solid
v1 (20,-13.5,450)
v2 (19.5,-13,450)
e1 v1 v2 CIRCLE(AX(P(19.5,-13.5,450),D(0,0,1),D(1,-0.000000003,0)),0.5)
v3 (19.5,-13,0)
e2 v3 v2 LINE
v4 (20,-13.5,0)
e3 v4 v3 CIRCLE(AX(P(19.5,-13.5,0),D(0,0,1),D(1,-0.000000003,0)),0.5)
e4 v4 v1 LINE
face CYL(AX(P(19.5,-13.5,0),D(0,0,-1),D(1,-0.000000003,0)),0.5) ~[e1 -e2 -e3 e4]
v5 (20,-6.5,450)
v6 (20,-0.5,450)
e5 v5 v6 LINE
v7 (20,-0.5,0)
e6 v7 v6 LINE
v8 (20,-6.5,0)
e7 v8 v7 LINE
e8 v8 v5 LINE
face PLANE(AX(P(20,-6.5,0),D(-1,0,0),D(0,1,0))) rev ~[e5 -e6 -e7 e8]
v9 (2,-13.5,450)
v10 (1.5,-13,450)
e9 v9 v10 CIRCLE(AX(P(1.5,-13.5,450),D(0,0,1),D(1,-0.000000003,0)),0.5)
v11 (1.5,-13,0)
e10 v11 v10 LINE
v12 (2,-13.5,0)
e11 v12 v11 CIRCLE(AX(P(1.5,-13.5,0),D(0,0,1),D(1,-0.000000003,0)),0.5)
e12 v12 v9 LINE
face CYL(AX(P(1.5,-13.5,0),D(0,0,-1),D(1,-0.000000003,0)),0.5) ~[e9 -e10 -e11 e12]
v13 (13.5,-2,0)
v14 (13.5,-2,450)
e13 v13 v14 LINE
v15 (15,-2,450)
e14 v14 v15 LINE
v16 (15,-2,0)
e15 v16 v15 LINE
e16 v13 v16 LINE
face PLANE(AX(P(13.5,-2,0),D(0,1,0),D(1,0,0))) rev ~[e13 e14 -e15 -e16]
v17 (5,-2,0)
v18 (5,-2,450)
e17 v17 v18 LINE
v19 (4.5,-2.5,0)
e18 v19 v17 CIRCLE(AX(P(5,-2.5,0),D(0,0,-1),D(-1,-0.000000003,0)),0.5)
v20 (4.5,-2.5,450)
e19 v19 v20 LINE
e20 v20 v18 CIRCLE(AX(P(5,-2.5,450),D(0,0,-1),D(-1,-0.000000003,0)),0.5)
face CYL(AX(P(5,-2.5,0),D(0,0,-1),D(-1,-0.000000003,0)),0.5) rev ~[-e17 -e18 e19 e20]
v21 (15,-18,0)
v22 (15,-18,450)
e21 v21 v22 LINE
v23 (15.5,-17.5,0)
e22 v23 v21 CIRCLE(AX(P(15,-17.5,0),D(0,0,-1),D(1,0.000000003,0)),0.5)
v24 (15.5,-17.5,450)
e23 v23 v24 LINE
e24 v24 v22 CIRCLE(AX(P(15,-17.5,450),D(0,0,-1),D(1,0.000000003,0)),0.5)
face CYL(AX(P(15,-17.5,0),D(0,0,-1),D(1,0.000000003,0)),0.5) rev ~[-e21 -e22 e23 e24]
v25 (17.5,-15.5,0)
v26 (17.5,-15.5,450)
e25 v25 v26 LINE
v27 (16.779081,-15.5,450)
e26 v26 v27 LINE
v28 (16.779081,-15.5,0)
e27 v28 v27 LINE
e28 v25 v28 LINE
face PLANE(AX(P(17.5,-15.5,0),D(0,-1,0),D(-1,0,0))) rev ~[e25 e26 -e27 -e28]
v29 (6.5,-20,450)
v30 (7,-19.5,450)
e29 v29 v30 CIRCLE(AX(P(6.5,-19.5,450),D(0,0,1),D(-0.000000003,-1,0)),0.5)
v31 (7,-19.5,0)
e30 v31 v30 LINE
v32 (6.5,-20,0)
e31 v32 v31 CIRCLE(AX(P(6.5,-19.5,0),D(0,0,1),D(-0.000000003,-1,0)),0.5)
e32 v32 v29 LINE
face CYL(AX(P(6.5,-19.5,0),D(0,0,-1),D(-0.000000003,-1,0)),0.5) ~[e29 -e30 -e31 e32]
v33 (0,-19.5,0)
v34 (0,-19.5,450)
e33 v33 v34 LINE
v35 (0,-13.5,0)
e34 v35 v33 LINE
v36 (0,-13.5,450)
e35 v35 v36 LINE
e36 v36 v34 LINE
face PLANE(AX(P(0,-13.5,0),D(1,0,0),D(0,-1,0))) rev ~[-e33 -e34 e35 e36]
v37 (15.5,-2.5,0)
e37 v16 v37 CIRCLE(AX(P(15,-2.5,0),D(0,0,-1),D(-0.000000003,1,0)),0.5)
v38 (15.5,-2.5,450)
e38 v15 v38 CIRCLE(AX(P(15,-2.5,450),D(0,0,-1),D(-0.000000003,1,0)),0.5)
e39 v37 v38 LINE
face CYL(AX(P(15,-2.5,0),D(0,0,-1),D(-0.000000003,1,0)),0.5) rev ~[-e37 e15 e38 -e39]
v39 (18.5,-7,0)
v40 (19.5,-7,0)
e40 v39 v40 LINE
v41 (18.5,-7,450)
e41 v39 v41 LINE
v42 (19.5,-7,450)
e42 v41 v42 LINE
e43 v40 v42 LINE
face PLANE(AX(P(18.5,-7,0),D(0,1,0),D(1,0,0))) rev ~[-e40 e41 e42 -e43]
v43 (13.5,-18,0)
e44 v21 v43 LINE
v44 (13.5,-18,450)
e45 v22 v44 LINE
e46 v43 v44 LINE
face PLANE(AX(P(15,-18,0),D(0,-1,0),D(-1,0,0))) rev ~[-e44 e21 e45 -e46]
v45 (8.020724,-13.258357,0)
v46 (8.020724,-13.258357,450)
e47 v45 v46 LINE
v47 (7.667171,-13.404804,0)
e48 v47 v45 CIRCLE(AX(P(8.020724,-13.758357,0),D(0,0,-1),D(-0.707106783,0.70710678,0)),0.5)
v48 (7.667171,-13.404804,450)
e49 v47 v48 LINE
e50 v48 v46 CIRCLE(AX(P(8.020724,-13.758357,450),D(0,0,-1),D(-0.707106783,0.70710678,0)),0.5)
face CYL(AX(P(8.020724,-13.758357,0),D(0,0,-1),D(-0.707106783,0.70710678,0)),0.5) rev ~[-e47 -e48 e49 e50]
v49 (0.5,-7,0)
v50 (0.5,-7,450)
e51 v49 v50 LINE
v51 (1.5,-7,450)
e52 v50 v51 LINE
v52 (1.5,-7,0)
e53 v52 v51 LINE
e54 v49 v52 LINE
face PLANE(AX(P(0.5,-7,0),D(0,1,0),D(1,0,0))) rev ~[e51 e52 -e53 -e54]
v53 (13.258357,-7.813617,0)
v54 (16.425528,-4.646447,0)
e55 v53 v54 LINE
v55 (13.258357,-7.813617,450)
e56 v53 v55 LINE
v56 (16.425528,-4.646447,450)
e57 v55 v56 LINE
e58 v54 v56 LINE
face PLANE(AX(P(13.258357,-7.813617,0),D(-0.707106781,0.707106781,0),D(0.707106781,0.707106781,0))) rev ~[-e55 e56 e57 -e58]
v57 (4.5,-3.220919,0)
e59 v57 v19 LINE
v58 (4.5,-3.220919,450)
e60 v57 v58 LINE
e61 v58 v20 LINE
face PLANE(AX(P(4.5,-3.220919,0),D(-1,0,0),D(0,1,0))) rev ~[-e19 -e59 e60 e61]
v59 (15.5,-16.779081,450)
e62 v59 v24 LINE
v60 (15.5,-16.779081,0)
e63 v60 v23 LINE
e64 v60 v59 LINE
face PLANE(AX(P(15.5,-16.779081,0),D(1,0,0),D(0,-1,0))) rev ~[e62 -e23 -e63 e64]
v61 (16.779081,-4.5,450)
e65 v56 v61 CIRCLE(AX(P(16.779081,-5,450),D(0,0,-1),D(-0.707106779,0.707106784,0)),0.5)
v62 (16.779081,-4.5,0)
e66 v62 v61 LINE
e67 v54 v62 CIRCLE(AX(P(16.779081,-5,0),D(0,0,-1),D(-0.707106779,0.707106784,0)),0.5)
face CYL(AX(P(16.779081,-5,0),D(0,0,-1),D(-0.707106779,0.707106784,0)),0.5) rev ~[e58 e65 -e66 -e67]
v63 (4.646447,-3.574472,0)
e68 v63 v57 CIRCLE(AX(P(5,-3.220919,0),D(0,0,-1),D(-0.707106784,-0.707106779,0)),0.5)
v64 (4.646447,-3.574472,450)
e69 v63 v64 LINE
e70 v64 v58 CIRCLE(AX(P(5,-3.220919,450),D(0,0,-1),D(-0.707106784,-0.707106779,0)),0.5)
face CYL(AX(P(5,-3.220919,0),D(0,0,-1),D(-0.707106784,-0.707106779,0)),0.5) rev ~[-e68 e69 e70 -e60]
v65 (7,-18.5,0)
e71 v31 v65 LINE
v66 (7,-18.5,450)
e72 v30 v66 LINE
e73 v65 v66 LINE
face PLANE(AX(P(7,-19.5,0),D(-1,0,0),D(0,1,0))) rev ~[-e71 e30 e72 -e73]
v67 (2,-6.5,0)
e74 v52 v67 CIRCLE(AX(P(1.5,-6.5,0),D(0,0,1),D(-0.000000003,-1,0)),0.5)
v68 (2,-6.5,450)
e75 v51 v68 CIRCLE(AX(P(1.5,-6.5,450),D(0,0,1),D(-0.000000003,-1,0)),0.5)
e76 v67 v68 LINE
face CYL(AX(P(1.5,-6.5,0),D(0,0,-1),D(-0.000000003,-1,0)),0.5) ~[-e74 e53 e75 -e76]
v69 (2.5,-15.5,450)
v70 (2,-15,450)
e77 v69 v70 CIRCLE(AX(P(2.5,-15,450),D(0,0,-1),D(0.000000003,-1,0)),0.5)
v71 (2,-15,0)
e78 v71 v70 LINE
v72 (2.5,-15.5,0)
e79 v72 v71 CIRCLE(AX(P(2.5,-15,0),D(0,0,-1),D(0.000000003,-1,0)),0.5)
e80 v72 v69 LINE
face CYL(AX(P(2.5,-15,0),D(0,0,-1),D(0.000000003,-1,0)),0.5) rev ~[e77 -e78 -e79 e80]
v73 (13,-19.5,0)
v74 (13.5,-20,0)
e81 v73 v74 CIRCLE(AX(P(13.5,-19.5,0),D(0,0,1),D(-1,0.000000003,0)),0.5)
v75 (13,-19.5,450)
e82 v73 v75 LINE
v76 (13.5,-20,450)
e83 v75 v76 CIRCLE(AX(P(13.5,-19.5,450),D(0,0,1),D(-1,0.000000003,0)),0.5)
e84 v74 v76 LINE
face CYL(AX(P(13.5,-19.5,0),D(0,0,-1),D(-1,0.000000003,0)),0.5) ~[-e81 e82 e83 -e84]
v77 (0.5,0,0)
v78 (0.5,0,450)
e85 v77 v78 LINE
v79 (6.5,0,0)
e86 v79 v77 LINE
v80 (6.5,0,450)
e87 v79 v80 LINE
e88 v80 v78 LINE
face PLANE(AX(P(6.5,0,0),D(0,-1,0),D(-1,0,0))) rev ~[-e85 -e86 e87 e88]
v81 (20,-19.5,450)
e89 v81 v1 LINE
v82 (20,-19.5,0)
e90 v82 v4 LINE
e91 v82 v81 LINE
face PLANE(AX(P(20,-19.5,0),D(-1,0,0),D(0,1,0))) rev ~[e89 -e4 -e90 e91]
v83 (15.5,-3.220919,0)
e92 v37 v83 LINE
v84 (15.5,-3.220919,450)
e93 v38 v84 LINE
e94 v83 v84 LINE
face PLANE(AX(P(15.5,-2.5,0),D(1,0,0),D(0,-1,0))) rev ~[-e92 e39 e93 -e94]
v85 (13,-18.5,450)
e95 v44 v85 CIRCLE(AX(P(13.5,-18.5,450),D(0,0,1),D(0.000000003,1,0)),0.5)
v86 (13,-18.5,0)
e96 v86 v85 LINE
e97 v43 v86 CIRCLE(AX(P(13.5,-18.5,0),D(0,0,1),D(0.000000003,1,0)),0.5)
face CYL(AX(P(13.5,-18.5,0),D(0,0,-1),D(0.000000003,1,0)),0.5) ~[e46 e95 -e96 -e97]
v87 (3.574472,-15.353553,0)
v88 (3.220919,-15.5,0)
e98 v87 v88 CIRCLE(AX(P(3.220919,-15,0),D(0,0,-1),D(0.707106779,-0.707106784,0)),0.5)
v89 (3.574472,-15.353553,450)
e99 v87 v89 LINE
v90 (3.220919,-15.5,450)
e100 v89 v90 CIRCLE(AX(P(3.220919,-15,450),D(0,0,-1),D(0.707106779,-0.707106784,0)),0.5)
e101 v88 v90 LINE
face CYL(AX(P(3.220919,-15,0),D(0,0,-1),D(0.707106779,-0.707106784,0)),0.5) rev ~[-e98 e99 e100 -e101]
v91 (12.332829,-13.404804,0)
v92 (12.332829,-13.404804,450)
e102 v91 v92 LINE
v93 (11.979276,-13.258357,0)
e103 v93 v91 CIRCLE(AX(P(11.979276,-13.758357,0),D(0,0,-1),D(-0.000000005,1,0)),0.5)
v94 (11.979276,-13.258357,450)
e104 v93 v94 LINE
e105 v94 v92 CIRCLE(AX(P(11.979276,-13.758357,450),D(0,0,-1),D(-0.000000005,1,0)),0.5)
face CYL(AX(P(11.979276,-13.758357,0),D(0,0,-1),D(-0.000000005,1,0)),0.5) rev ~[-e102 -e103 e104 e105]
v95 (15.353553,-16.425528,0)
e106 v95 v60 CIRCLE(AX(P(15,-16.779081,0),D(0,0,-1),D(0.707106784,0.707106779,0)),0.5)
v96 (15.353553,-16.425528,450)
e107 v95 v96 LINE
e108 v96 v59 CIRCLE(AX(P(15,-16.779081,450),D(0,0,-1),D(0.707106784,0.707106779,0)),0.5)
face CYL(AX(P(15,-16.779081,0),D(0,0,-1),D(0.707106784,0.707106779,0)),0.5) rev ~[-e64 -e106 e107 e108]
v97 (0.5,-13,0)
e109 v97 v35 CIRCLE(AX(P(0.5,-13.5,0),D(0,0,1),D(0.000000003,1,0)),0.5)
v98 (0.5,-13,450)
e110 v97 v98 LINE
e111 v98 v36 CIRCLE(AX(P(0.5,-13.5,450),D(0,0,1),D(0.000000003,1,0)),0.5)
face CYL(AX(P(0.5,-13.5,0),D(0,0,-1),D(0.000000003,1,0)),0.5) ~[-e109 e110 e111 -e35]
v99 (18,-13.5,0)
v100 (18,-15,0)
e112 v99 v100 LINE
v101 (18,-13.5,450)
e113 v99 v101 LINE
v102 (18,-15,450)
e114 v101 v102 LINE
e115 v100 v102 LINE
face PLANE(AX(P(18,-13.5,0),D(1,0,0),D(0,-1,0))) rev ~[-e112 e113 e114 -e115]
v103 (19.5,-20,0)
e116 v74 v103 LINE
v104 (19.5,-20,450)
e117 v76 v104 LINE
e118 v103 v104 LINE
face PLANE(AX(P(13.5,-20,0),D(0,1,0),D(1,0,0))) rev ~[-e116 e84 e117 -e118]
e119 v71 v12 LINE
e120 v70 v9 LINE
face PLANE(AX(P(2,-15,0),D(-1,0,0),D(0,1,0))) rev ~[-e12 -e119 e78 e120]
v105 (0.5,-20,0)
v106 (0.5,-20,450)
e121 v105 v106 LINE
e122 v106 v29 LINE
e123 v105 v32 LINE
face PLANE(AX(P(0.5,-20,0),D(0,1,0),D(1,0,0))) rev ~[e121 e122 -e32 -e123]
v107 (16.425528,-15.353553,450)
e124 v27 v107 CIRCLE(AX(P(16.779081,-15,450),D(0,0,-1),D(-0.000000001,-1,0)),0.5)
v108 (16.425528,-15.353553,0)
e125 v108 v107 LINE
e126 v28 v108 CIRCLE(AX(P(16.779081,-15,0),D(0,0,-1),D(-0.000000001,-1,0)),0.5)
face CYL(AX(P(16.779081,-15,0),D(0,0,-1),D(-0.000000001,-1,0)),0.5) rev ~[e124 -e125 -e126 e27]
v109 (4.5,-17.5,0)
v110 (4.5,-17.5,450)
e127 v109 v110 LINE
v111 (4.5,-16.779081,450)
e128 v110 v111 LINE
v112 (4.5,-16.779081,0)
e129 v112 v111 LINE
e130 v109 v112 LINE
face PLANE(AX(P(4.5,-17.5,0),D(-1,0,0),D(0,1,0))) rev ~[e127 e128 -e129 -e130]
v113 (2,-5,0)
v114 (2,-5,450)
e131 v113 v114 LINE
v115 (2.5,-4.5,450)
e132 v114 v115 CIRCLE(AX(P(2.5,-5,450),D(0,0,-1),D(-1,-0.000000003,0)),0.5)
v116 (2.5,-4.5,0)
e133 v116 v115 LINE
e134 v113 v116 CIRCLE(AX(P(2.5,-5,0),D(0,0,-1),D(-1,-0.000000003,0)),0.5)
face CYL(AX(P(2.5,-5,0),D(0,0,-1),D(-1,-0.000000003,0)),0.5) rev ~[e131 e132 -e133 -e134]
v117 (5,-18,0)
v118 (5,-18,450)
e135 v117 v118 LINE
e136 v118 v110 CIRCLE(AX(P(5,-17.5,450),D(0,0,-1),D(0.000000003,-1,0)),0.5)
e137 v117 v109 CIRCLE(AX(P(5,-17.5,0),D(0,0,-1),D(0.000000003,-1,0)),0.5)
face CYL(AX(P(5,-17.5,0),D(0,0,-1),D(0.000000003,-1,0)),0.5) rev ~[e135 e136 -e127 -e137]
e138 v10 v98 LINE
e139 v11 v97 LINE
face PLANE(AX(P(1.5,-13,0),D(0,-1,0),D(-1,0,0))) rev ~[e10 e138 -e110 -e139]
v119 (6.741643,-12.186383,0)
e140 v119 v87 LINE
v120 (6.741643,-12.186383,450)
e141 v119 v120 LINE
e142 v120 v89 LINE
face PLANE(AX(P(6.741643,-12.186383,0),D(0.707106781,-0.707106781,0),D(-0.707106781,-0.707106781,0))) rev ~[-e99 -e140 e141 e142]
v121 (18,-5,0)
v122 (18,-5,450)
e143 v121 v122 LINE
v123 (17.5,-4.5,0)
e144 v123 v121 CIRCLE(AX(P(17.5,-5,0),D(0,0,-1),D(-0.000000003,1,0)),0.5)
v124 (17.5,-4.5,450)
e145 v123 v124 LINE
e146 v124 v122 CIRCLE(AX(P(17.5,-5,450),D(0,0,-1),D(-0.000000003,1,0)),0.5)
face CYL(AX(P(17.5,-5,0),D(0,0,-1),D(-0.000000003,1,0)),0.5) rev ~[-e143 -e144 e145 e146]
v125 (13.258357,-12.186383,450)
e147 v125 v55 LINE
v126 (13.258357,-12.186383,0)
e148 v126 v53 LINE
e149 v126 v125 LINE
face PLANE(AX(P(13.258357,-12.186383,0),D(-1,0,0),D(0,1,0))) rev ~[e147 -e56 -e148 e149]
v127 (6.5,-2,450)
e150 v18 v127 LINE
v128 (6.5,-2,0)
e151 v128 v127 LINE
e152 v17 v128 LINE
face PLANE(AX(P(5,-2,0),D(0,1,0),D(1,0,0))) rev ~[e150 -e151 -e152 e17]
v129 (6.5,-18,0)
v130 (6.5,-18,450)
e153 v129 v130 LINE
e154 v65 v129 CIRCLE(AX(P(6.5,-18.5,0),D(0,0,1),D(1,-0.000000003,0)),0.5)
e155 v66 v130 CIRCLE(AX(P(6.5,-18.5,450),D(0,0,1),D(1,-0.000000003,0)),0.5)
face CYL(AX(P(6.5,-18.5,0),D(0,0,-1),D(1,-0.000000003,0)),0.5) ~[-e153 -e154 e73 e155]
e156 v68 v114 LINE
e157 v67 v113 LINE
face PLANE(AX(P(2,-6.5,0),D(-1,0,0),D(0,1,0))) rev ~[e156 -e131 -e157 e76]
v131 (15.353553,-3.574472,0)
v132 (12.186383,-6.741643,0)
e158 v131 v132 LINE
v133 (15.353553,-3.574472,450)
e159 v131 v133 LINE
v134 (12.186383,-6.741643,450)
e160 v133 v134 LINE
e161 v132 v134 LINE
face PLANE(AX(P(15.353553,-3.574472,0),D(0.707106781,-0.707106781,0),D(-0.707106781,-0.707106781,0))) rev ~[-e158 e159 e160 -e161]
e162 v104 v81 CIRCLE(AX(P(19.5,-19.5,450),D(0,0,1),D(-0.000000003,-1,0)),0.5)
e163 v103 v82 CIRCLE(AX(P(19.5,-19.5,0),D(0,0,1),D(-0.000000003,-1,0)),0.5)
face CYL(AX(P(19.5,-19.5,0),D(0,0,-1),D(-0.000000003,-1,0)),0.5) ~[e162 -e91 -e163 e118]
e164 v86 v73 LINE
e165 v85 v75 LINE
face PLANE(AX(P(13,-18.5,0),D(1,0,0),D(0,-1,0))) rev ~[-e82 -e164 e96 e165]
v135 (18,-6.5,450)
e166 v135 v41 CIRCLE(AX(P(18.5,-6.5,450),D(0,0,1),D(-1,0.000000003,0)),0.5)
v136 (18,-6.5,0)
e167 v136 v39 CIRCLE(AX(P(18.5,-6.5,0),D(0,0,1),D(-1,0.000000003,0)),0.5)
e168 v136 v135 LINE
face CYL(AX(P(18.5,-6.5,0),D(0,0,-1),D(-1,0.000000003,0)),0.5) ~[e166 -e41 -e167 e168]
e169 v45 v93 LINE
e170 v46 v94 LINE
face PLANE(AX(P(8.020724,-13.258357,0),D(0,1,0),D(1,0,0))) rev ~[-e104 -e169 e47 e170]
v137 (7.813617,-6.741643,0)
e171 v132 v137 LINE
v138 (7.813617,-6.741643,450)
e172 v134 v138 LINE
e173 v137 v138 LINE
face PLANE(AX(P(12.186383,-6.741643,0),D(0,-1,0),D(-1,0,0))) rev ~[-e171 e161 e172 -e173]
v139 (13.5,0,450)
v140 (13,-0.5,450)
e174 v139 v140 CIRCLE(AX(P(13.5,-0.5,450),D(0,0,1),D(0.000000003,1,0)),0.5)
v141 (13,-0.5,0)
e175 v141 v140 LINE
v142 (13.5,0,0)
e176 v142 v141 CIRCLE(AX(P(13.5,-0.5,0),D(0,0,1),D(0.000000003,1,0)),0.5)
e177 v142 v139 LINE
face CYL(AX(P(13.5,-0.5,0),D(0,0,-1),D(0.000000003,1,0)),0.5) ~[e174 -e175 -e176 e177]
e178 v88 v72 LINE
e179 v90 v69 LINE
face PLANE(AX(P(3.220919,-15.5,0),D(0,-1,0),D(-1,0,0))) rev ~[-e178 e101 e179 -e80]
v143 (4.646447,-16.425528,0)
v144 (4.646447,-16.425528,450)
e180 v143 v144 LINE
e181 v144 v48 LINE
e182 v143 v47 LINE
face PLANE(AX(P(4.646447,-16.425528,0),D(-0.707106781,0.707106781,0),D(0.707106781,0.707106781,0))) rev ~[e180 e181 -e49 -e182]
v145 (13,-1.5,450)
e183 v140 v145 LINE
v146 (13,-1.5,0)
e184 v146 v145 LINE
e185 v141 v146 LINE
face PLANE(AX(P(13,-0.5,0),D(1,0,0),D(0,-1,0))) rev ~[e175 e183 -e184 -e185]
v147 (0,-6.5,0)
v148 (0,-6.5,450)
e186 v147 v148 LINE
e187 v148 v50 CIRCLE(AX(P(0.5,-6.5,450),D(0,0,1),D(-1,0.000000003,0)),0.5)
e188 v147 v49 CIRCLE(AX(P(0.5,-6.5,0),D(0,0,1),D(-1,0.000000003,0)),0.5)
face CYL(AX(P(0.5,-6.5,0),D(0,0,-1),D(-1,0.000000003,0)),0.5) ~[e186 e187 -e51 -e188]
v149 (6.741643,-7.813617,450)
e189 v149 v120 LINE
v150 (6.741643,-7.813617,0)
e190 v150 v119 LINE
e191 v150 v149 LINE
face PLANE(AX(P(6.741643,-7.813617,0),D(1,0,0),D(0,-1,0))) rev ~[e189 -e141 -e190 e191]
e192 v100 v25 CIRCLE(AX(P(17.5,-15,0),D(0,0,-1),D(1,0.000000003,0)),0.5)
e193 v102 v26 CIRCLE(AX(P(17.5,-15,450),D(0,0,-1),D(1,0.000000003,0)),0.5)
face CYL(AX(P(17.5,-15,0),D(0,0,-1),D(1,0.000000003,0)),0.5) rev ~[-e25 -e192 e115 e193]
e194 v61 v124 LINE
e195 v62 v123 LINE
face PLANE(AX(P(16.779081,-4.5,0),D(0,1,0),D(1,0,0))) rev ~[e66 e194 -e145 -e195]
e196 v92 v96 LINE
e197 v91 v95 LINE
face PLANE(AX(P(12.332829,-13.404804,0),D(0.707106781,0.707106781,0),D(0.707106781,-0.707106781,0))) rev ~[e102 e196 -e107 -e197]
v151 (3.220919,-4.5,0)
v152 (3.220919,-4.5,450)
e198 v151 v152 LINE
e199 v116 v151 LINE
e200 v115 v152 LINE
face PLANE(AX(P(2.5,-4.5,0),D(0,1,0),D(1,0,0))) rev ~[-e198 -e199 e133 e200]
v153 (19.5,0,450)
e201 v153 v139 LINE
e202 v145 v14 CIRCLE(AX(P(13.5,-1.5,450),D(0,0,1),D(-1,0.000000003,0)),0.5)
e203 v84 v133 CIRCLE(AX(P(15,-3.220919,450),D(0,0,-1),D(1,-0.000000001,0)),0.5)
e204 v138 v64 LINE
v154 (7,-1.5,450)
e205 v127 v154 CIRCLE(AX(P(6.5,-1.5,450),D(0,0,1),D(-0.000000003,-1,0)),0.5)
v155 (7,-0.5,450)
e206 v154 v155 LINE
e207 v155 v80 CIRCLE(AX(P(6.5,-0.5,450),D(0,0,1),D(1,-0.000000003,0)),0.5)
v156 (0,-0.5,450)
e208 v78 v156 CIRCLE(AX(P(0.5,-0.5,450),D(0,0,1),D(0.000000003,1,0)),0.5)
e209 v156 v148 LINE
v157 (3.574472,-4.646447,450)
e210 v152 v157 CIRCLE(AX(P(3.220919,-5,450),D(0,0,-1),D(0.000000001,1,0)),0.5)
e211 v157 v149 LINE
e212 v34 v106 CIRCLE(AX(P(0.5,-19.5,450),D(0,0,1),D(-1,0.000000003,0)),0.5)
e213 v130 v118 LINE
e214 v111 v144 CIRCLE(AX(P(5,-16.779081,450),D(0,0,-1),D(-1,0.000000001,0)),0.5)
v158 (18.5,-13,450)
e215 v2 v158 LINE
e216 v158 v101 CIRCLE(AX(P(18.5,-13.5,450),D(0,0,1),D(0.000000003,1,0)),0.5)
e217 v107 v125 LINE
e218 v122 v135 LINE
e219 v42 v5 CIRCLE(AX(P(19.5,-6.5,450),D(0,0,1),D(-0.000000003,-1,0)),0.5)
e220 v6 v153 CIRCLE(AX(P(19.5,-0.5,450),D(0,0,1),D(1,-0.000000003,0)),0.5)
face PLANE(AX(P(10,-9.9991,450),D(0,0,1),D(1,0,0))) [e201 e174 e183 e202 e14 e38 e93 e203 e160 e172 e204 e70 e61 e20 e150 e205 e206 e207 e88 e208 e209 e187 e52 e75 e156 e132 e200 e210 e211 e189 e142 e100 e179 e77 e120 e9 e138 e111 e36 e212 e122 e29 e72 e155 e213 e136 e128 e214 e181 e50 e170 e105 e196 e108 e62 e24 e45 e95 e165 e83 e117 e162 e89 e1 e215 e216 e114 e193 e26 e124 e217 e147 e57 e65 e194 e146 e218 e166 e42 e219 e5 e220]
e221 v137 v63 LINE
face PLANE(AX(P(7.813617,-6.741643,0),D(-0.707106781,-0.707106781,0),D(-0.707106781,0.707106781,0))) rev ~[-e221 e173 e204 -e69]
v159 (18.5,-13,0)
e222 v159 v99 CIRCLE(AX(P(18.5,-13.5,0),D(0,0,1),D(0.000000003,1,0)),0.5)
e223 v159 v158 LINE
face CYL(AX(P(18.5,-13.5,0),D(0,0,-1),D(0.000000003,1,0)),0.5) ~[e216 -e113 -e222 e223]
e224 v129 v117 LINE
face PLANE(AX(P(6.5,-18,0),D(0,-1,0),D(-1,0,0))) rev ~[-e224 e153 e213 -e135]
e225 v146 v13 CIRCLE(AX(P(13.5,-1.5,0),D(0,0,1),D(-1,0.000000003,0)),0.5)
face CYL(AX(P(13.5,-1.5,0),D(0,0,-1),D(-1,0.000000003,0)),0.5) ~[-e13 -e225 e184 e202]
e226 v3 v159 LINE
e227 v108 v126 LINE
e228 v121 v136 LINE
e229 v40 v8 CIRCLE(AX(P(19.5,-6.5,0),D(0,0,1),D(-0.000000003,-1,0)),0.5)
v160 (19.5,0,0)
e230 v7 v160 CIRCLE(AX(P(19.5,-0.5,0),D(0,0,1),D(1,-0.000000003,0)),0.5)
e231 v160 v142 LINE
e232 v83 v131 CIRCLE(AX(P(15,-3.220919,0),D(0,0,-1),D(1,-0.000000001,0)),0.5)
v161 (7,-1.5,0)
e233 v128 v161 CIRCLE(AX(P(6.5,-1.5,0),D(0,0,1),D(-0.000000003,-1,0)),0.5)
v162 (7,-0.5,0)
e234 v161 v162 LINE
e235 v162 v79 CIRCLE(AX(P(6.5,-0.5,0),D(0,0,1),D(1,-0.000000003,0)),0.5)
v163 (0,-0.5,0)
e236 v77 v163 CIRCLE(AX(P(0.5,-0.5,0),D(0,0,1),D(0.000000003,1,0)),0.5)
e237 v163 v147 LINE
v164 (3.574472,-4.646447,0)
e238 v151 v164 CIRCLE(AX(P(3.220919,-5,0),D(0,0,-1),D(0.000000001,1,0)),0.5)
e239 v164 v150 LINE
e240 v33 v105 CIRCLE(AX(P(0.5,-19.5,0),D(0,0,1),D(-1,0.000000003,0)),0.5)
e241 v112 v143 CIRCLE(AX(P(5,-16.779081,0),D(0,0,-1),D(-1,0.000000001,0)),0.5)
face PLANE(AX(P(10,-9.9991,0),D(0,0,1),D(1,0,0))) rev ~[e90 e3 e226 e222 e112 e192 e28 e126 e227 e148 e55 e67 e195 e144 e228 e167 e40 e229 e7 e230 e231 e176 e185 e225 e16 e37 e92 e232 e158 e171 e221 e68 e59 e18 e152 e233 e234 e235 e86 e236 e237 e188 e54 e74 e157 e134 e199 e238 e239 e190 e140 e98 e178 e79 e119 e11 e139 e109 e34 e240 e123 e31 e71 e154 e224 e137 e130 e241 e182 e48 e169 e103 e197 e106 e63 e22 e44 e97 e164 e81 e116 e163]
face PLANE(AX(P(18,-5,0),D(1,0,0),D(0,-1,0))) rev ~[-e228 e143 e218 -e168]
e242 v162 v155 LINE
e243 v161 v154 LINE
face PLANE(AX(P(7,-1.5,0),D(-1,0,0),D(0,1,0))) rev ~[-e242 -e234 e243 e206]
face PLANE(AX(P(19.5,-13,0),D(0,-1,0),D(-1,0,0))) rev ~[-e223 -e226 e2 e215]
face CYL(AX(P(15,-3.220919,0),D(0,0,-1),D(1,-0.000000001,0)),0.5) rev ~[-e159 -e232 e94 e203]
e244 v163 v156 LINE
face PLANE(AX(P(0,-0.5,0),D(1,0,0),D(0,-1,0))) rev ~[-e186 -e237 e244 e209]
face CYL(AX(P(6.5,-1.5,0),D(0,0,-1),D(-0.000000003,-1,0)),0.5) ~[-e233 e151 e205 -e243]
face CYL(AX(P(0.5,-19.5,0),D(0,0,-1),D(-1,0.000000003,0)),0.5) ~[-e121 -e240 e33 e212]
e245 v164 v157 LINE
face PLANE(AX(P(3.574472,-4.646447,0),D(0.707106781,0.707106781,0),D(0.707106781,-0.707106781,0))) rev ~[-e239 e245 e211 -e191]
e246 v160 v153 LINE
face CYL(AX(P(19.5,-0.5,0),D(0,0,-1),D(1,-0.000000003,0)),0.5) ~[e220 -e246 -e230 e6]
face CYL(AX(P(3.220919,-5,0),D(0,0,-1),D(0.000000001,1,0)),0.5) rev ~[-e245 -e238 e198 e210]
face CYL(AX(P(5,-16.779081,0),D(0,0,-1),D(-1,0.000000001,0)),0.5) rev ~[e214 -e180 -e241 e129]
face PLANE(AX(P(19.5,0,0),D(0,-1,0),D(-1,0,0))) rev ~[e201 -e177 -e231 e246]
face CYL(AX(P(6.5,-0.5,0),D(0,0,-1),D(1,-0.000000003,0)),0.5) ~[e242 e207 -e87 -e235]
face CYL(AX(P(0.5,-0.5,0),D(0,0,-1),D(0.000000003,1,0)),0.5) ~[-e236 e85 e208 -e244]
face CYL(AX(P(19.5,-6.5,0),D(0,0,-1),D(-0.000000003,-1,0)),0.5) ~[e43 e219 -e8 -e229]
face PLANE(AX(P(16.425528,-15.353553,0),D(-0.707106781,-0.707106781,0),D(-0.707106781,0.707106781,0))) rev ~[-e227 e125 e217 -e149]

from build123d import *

# Parameters (mm, degrees)
EXTRUDE_1_DEPTH = 450


with BuildPart() as part:
    # 草图1 → 凸台-拉伸1 (new body)
    with BuildSketch(Plane.XY):
        with BuildLine():
            Line((6.5, 0), (0.5, 0))
            ThreePointArc((0.5, 0), (0.146446609, -0.146446609), (0, -0.5))
            Line((0, -0.5), (0, -6.5))
            ThreePointArc((0, -6.5), (0.146446609, -6.853553391), (0.5, -7))
            Line((0.5, -7), (1.5, -7))
            ThreePointArc((1.5, -7), (1.853553391, -6.853553391), (2, -6.5))
            Line((2, -6.5), (2, -5))
            ThreePointArc((2, -5), (2.146446609, -4.646446609), (2.5, -4.5))
            Line((2.5, -4.5), (3.220918534, -4.5))
            ThreePointArc((3.220918534, -4.5), (3.412260251, -4.538060234), (3.574471925, -4.646446609))
            Line((3.574471925, -4.646446609), (6.741642787, -7.813617472))
            Line((6.741642787, -7.813617472), (6.741642787, -12.186382528))
            Line((6.741642787, -12.186382528), (3.574471925, -15.353553391))
            ThreePointArc((3.574471925, -15.353553391), (3.412260251, -15.461939766), (3.220918534, -15.5))
            Line((3.220918534, -15.5), (2.5, -15.5))
            ThreePointArc((2.5, -15.5), (2.146446609, -15.353553391), (2, -15))
            Line((2, -15), (2, -13.5))
            ThreePointArc((2, -13.5), (1.853553391, -13.146446609), (1.5, -13))
            Line((1.5, -13), (0.5, -13))
            ThreePointArc((0.5, -13), (0.146446609, -13.146446609), (0, -13.5))
            Line((0, -13.5), (0, -19.5))
            ThreePointArc((0, -19.5), (0.146446609, -19.853553391), (0.5, -20))
            Line((0.5, -20), (6.5, -20))
            ThreePointArc((6.5, -20), (6.853553391, -19.853553391), (7, -19.5))
            Line((7, -19.5), (7, -18.5))
            ThreePointArc((7, -18.5), (6.853553391, -18.146446609), (6.5, -18))
            Line((6.5, -18), (5, -18))
            ThreePointArc((5, -18), (4.646446609, -17.853553391), (4.5, -17.5))
            Line((4.5, -17.5), (4.5, -16.779081466))
            ThreePointArc((4.5, -16.779081466), (4.538060234, -16.587739749), (4.646446609, -16.425528075))
            Line((4.646446609, -16.425528075), (7.667170862, -13.404803822))
            ThreePointArc((7.667170862, -13.404803822), (7.829382537, -13.296417446), (8.020724253, -13.258357213))
            Line((8.020724253, -13.258357213), (11.979275747, -13.258357213))
            ThreePointArc((11.979275747, -13.258357213), (12.170617463, -13.296417446), (12.332829138, -13.404803822))
            Line((12.332829138, -13.404803822), (15.353553391, -16.425528075))
            ThreePointArc((15.353553391, -16.425528075), (15.461939766, -16.587739749), (15.5, -16.779081466))
            Line((15.5, -16.779081466), (15.5, -17.5))
            ThreePointArc((15.5, -17.5), (15.353553391, -17.853553391), (15, -18))
            Line((15, -18), (13.5, -18))
            ThreePointArc((13.5, -18), (13.146446609, -18.146446609), (13, -18.5))
            Line((13, -18.5), (13, -19.5))
            ThreePointArc((13, -19.5), (13.146446609, -19.853553391), (13.5, -20))
            Line((13.5, -20), (19.5, -20))
            ThreePointArc((19.5, -20), (19.853553391, -19.853553391), (20, -19.5))
            Line((20, -19.5), (20, -13.5))
            ThreePointArc((20, -13.5), (19.853553391, -13.146446609), (19.5, -13))
            Line((19.5, -13), (18.5, -13))
            ThreePointArc((18.5, -13), (18.146446609, -13.146446609), (18, -13.5))
            Line((18, -13.5), (18, -15))
            ThreePointArc((18, -15), (17.853553391, -15.353553391), (17.5, -15.5))
            Line((17.5, -15.5), (16.779081466, -15.5))
            ThreePointArc((16.779081466, -15.5), (16.587739749, -15.461939766), (16.425528075, -15.353553391))
            Line((16.425528075, -15.353553391), (13.258357213, -12.186382528))
            Line((13.258357213, -12.186382528), (13.258357213, -7.813617472))
            Line((13.258357213, -7.813617472), (16.425528075, -4.646446609))
            ThreePointArc((16.425528075, -4.646446609), (16.587739749, -4.538060234), (16.779081466, -4.5))
            Line((16.779081466, -4.5), (17.5, -4.5))
            ThreePointArc((17.5, -4.5), (17.853553391, -4.646446609), (18, -5))
            Line((18, -5), (18, -6.5))
            ThreePointArc((18, -6.5), (18.146446609, -6.853553391), (18.5, -7))
            Line((18.5, -7), (19.5, -7))
            ThreePointArc((19.5, -7), (19.853553391, -6.853553391), (20, -6.5))
            Line((20, -6.5), (20, -0.5))
            ThreePointArc((20, -0.5), (19.853553391, -0.146446609), (19.5, 0))
            Line((19.5, 0), (13.5, 0))
            ThreePointArc((13.5, 0), (13.146446609, -0.146446609), (13, -0.5))
            Line((13, -0.5), (13, -1.5))
            ThreePointArc((13, -1.5), (13.146446609, -1.853553391), (13.5, -2))
            Line((13.5, -2), (15, -2))
            ThreePointArc((15, -2), (15.353553391, -2.146446609), (15.5, -2.5))
            Line((15.5, -2.5), (15.5, -3.220918534))
            ThreePointArc((15.5, -3.220918534), (15.461939766, -3.412260251), (15.353553391, -3.574471925))
            Line((15.353553391, -3.574471925), (12.186382528, -6.741642787))
            Line((12.186382528, -6.741642787), (7.813617472, -6.741642787))
            Line((7.813617472, -6.741642787), (4.646446609, -3.574471925))
            ThreePointArc((4.646446609, -3.574471925), (4.538060234, -3.412260251), (4.5, -3.220918534))
            Line((4.5, -3.220918534), (4.5, -2.5))
            ThreePointArc((4.5, -2.5), (4.646446609, -2.146446609), (5, -2))
            Line((5, -2), (6.5, -2))
            ThreePointArc((6.5, -2), (6.853553391, -1.853553391), (7, -1.5))
            Line((7, -1.5), (7, -0.5))
            ThreePointArc((7, -0.5), (6.853553391, -0.146446609), (6.5, 0))
        make_face()
    extrude(amount=EXTRUDE_1_DEPTH)


solid = part.part
